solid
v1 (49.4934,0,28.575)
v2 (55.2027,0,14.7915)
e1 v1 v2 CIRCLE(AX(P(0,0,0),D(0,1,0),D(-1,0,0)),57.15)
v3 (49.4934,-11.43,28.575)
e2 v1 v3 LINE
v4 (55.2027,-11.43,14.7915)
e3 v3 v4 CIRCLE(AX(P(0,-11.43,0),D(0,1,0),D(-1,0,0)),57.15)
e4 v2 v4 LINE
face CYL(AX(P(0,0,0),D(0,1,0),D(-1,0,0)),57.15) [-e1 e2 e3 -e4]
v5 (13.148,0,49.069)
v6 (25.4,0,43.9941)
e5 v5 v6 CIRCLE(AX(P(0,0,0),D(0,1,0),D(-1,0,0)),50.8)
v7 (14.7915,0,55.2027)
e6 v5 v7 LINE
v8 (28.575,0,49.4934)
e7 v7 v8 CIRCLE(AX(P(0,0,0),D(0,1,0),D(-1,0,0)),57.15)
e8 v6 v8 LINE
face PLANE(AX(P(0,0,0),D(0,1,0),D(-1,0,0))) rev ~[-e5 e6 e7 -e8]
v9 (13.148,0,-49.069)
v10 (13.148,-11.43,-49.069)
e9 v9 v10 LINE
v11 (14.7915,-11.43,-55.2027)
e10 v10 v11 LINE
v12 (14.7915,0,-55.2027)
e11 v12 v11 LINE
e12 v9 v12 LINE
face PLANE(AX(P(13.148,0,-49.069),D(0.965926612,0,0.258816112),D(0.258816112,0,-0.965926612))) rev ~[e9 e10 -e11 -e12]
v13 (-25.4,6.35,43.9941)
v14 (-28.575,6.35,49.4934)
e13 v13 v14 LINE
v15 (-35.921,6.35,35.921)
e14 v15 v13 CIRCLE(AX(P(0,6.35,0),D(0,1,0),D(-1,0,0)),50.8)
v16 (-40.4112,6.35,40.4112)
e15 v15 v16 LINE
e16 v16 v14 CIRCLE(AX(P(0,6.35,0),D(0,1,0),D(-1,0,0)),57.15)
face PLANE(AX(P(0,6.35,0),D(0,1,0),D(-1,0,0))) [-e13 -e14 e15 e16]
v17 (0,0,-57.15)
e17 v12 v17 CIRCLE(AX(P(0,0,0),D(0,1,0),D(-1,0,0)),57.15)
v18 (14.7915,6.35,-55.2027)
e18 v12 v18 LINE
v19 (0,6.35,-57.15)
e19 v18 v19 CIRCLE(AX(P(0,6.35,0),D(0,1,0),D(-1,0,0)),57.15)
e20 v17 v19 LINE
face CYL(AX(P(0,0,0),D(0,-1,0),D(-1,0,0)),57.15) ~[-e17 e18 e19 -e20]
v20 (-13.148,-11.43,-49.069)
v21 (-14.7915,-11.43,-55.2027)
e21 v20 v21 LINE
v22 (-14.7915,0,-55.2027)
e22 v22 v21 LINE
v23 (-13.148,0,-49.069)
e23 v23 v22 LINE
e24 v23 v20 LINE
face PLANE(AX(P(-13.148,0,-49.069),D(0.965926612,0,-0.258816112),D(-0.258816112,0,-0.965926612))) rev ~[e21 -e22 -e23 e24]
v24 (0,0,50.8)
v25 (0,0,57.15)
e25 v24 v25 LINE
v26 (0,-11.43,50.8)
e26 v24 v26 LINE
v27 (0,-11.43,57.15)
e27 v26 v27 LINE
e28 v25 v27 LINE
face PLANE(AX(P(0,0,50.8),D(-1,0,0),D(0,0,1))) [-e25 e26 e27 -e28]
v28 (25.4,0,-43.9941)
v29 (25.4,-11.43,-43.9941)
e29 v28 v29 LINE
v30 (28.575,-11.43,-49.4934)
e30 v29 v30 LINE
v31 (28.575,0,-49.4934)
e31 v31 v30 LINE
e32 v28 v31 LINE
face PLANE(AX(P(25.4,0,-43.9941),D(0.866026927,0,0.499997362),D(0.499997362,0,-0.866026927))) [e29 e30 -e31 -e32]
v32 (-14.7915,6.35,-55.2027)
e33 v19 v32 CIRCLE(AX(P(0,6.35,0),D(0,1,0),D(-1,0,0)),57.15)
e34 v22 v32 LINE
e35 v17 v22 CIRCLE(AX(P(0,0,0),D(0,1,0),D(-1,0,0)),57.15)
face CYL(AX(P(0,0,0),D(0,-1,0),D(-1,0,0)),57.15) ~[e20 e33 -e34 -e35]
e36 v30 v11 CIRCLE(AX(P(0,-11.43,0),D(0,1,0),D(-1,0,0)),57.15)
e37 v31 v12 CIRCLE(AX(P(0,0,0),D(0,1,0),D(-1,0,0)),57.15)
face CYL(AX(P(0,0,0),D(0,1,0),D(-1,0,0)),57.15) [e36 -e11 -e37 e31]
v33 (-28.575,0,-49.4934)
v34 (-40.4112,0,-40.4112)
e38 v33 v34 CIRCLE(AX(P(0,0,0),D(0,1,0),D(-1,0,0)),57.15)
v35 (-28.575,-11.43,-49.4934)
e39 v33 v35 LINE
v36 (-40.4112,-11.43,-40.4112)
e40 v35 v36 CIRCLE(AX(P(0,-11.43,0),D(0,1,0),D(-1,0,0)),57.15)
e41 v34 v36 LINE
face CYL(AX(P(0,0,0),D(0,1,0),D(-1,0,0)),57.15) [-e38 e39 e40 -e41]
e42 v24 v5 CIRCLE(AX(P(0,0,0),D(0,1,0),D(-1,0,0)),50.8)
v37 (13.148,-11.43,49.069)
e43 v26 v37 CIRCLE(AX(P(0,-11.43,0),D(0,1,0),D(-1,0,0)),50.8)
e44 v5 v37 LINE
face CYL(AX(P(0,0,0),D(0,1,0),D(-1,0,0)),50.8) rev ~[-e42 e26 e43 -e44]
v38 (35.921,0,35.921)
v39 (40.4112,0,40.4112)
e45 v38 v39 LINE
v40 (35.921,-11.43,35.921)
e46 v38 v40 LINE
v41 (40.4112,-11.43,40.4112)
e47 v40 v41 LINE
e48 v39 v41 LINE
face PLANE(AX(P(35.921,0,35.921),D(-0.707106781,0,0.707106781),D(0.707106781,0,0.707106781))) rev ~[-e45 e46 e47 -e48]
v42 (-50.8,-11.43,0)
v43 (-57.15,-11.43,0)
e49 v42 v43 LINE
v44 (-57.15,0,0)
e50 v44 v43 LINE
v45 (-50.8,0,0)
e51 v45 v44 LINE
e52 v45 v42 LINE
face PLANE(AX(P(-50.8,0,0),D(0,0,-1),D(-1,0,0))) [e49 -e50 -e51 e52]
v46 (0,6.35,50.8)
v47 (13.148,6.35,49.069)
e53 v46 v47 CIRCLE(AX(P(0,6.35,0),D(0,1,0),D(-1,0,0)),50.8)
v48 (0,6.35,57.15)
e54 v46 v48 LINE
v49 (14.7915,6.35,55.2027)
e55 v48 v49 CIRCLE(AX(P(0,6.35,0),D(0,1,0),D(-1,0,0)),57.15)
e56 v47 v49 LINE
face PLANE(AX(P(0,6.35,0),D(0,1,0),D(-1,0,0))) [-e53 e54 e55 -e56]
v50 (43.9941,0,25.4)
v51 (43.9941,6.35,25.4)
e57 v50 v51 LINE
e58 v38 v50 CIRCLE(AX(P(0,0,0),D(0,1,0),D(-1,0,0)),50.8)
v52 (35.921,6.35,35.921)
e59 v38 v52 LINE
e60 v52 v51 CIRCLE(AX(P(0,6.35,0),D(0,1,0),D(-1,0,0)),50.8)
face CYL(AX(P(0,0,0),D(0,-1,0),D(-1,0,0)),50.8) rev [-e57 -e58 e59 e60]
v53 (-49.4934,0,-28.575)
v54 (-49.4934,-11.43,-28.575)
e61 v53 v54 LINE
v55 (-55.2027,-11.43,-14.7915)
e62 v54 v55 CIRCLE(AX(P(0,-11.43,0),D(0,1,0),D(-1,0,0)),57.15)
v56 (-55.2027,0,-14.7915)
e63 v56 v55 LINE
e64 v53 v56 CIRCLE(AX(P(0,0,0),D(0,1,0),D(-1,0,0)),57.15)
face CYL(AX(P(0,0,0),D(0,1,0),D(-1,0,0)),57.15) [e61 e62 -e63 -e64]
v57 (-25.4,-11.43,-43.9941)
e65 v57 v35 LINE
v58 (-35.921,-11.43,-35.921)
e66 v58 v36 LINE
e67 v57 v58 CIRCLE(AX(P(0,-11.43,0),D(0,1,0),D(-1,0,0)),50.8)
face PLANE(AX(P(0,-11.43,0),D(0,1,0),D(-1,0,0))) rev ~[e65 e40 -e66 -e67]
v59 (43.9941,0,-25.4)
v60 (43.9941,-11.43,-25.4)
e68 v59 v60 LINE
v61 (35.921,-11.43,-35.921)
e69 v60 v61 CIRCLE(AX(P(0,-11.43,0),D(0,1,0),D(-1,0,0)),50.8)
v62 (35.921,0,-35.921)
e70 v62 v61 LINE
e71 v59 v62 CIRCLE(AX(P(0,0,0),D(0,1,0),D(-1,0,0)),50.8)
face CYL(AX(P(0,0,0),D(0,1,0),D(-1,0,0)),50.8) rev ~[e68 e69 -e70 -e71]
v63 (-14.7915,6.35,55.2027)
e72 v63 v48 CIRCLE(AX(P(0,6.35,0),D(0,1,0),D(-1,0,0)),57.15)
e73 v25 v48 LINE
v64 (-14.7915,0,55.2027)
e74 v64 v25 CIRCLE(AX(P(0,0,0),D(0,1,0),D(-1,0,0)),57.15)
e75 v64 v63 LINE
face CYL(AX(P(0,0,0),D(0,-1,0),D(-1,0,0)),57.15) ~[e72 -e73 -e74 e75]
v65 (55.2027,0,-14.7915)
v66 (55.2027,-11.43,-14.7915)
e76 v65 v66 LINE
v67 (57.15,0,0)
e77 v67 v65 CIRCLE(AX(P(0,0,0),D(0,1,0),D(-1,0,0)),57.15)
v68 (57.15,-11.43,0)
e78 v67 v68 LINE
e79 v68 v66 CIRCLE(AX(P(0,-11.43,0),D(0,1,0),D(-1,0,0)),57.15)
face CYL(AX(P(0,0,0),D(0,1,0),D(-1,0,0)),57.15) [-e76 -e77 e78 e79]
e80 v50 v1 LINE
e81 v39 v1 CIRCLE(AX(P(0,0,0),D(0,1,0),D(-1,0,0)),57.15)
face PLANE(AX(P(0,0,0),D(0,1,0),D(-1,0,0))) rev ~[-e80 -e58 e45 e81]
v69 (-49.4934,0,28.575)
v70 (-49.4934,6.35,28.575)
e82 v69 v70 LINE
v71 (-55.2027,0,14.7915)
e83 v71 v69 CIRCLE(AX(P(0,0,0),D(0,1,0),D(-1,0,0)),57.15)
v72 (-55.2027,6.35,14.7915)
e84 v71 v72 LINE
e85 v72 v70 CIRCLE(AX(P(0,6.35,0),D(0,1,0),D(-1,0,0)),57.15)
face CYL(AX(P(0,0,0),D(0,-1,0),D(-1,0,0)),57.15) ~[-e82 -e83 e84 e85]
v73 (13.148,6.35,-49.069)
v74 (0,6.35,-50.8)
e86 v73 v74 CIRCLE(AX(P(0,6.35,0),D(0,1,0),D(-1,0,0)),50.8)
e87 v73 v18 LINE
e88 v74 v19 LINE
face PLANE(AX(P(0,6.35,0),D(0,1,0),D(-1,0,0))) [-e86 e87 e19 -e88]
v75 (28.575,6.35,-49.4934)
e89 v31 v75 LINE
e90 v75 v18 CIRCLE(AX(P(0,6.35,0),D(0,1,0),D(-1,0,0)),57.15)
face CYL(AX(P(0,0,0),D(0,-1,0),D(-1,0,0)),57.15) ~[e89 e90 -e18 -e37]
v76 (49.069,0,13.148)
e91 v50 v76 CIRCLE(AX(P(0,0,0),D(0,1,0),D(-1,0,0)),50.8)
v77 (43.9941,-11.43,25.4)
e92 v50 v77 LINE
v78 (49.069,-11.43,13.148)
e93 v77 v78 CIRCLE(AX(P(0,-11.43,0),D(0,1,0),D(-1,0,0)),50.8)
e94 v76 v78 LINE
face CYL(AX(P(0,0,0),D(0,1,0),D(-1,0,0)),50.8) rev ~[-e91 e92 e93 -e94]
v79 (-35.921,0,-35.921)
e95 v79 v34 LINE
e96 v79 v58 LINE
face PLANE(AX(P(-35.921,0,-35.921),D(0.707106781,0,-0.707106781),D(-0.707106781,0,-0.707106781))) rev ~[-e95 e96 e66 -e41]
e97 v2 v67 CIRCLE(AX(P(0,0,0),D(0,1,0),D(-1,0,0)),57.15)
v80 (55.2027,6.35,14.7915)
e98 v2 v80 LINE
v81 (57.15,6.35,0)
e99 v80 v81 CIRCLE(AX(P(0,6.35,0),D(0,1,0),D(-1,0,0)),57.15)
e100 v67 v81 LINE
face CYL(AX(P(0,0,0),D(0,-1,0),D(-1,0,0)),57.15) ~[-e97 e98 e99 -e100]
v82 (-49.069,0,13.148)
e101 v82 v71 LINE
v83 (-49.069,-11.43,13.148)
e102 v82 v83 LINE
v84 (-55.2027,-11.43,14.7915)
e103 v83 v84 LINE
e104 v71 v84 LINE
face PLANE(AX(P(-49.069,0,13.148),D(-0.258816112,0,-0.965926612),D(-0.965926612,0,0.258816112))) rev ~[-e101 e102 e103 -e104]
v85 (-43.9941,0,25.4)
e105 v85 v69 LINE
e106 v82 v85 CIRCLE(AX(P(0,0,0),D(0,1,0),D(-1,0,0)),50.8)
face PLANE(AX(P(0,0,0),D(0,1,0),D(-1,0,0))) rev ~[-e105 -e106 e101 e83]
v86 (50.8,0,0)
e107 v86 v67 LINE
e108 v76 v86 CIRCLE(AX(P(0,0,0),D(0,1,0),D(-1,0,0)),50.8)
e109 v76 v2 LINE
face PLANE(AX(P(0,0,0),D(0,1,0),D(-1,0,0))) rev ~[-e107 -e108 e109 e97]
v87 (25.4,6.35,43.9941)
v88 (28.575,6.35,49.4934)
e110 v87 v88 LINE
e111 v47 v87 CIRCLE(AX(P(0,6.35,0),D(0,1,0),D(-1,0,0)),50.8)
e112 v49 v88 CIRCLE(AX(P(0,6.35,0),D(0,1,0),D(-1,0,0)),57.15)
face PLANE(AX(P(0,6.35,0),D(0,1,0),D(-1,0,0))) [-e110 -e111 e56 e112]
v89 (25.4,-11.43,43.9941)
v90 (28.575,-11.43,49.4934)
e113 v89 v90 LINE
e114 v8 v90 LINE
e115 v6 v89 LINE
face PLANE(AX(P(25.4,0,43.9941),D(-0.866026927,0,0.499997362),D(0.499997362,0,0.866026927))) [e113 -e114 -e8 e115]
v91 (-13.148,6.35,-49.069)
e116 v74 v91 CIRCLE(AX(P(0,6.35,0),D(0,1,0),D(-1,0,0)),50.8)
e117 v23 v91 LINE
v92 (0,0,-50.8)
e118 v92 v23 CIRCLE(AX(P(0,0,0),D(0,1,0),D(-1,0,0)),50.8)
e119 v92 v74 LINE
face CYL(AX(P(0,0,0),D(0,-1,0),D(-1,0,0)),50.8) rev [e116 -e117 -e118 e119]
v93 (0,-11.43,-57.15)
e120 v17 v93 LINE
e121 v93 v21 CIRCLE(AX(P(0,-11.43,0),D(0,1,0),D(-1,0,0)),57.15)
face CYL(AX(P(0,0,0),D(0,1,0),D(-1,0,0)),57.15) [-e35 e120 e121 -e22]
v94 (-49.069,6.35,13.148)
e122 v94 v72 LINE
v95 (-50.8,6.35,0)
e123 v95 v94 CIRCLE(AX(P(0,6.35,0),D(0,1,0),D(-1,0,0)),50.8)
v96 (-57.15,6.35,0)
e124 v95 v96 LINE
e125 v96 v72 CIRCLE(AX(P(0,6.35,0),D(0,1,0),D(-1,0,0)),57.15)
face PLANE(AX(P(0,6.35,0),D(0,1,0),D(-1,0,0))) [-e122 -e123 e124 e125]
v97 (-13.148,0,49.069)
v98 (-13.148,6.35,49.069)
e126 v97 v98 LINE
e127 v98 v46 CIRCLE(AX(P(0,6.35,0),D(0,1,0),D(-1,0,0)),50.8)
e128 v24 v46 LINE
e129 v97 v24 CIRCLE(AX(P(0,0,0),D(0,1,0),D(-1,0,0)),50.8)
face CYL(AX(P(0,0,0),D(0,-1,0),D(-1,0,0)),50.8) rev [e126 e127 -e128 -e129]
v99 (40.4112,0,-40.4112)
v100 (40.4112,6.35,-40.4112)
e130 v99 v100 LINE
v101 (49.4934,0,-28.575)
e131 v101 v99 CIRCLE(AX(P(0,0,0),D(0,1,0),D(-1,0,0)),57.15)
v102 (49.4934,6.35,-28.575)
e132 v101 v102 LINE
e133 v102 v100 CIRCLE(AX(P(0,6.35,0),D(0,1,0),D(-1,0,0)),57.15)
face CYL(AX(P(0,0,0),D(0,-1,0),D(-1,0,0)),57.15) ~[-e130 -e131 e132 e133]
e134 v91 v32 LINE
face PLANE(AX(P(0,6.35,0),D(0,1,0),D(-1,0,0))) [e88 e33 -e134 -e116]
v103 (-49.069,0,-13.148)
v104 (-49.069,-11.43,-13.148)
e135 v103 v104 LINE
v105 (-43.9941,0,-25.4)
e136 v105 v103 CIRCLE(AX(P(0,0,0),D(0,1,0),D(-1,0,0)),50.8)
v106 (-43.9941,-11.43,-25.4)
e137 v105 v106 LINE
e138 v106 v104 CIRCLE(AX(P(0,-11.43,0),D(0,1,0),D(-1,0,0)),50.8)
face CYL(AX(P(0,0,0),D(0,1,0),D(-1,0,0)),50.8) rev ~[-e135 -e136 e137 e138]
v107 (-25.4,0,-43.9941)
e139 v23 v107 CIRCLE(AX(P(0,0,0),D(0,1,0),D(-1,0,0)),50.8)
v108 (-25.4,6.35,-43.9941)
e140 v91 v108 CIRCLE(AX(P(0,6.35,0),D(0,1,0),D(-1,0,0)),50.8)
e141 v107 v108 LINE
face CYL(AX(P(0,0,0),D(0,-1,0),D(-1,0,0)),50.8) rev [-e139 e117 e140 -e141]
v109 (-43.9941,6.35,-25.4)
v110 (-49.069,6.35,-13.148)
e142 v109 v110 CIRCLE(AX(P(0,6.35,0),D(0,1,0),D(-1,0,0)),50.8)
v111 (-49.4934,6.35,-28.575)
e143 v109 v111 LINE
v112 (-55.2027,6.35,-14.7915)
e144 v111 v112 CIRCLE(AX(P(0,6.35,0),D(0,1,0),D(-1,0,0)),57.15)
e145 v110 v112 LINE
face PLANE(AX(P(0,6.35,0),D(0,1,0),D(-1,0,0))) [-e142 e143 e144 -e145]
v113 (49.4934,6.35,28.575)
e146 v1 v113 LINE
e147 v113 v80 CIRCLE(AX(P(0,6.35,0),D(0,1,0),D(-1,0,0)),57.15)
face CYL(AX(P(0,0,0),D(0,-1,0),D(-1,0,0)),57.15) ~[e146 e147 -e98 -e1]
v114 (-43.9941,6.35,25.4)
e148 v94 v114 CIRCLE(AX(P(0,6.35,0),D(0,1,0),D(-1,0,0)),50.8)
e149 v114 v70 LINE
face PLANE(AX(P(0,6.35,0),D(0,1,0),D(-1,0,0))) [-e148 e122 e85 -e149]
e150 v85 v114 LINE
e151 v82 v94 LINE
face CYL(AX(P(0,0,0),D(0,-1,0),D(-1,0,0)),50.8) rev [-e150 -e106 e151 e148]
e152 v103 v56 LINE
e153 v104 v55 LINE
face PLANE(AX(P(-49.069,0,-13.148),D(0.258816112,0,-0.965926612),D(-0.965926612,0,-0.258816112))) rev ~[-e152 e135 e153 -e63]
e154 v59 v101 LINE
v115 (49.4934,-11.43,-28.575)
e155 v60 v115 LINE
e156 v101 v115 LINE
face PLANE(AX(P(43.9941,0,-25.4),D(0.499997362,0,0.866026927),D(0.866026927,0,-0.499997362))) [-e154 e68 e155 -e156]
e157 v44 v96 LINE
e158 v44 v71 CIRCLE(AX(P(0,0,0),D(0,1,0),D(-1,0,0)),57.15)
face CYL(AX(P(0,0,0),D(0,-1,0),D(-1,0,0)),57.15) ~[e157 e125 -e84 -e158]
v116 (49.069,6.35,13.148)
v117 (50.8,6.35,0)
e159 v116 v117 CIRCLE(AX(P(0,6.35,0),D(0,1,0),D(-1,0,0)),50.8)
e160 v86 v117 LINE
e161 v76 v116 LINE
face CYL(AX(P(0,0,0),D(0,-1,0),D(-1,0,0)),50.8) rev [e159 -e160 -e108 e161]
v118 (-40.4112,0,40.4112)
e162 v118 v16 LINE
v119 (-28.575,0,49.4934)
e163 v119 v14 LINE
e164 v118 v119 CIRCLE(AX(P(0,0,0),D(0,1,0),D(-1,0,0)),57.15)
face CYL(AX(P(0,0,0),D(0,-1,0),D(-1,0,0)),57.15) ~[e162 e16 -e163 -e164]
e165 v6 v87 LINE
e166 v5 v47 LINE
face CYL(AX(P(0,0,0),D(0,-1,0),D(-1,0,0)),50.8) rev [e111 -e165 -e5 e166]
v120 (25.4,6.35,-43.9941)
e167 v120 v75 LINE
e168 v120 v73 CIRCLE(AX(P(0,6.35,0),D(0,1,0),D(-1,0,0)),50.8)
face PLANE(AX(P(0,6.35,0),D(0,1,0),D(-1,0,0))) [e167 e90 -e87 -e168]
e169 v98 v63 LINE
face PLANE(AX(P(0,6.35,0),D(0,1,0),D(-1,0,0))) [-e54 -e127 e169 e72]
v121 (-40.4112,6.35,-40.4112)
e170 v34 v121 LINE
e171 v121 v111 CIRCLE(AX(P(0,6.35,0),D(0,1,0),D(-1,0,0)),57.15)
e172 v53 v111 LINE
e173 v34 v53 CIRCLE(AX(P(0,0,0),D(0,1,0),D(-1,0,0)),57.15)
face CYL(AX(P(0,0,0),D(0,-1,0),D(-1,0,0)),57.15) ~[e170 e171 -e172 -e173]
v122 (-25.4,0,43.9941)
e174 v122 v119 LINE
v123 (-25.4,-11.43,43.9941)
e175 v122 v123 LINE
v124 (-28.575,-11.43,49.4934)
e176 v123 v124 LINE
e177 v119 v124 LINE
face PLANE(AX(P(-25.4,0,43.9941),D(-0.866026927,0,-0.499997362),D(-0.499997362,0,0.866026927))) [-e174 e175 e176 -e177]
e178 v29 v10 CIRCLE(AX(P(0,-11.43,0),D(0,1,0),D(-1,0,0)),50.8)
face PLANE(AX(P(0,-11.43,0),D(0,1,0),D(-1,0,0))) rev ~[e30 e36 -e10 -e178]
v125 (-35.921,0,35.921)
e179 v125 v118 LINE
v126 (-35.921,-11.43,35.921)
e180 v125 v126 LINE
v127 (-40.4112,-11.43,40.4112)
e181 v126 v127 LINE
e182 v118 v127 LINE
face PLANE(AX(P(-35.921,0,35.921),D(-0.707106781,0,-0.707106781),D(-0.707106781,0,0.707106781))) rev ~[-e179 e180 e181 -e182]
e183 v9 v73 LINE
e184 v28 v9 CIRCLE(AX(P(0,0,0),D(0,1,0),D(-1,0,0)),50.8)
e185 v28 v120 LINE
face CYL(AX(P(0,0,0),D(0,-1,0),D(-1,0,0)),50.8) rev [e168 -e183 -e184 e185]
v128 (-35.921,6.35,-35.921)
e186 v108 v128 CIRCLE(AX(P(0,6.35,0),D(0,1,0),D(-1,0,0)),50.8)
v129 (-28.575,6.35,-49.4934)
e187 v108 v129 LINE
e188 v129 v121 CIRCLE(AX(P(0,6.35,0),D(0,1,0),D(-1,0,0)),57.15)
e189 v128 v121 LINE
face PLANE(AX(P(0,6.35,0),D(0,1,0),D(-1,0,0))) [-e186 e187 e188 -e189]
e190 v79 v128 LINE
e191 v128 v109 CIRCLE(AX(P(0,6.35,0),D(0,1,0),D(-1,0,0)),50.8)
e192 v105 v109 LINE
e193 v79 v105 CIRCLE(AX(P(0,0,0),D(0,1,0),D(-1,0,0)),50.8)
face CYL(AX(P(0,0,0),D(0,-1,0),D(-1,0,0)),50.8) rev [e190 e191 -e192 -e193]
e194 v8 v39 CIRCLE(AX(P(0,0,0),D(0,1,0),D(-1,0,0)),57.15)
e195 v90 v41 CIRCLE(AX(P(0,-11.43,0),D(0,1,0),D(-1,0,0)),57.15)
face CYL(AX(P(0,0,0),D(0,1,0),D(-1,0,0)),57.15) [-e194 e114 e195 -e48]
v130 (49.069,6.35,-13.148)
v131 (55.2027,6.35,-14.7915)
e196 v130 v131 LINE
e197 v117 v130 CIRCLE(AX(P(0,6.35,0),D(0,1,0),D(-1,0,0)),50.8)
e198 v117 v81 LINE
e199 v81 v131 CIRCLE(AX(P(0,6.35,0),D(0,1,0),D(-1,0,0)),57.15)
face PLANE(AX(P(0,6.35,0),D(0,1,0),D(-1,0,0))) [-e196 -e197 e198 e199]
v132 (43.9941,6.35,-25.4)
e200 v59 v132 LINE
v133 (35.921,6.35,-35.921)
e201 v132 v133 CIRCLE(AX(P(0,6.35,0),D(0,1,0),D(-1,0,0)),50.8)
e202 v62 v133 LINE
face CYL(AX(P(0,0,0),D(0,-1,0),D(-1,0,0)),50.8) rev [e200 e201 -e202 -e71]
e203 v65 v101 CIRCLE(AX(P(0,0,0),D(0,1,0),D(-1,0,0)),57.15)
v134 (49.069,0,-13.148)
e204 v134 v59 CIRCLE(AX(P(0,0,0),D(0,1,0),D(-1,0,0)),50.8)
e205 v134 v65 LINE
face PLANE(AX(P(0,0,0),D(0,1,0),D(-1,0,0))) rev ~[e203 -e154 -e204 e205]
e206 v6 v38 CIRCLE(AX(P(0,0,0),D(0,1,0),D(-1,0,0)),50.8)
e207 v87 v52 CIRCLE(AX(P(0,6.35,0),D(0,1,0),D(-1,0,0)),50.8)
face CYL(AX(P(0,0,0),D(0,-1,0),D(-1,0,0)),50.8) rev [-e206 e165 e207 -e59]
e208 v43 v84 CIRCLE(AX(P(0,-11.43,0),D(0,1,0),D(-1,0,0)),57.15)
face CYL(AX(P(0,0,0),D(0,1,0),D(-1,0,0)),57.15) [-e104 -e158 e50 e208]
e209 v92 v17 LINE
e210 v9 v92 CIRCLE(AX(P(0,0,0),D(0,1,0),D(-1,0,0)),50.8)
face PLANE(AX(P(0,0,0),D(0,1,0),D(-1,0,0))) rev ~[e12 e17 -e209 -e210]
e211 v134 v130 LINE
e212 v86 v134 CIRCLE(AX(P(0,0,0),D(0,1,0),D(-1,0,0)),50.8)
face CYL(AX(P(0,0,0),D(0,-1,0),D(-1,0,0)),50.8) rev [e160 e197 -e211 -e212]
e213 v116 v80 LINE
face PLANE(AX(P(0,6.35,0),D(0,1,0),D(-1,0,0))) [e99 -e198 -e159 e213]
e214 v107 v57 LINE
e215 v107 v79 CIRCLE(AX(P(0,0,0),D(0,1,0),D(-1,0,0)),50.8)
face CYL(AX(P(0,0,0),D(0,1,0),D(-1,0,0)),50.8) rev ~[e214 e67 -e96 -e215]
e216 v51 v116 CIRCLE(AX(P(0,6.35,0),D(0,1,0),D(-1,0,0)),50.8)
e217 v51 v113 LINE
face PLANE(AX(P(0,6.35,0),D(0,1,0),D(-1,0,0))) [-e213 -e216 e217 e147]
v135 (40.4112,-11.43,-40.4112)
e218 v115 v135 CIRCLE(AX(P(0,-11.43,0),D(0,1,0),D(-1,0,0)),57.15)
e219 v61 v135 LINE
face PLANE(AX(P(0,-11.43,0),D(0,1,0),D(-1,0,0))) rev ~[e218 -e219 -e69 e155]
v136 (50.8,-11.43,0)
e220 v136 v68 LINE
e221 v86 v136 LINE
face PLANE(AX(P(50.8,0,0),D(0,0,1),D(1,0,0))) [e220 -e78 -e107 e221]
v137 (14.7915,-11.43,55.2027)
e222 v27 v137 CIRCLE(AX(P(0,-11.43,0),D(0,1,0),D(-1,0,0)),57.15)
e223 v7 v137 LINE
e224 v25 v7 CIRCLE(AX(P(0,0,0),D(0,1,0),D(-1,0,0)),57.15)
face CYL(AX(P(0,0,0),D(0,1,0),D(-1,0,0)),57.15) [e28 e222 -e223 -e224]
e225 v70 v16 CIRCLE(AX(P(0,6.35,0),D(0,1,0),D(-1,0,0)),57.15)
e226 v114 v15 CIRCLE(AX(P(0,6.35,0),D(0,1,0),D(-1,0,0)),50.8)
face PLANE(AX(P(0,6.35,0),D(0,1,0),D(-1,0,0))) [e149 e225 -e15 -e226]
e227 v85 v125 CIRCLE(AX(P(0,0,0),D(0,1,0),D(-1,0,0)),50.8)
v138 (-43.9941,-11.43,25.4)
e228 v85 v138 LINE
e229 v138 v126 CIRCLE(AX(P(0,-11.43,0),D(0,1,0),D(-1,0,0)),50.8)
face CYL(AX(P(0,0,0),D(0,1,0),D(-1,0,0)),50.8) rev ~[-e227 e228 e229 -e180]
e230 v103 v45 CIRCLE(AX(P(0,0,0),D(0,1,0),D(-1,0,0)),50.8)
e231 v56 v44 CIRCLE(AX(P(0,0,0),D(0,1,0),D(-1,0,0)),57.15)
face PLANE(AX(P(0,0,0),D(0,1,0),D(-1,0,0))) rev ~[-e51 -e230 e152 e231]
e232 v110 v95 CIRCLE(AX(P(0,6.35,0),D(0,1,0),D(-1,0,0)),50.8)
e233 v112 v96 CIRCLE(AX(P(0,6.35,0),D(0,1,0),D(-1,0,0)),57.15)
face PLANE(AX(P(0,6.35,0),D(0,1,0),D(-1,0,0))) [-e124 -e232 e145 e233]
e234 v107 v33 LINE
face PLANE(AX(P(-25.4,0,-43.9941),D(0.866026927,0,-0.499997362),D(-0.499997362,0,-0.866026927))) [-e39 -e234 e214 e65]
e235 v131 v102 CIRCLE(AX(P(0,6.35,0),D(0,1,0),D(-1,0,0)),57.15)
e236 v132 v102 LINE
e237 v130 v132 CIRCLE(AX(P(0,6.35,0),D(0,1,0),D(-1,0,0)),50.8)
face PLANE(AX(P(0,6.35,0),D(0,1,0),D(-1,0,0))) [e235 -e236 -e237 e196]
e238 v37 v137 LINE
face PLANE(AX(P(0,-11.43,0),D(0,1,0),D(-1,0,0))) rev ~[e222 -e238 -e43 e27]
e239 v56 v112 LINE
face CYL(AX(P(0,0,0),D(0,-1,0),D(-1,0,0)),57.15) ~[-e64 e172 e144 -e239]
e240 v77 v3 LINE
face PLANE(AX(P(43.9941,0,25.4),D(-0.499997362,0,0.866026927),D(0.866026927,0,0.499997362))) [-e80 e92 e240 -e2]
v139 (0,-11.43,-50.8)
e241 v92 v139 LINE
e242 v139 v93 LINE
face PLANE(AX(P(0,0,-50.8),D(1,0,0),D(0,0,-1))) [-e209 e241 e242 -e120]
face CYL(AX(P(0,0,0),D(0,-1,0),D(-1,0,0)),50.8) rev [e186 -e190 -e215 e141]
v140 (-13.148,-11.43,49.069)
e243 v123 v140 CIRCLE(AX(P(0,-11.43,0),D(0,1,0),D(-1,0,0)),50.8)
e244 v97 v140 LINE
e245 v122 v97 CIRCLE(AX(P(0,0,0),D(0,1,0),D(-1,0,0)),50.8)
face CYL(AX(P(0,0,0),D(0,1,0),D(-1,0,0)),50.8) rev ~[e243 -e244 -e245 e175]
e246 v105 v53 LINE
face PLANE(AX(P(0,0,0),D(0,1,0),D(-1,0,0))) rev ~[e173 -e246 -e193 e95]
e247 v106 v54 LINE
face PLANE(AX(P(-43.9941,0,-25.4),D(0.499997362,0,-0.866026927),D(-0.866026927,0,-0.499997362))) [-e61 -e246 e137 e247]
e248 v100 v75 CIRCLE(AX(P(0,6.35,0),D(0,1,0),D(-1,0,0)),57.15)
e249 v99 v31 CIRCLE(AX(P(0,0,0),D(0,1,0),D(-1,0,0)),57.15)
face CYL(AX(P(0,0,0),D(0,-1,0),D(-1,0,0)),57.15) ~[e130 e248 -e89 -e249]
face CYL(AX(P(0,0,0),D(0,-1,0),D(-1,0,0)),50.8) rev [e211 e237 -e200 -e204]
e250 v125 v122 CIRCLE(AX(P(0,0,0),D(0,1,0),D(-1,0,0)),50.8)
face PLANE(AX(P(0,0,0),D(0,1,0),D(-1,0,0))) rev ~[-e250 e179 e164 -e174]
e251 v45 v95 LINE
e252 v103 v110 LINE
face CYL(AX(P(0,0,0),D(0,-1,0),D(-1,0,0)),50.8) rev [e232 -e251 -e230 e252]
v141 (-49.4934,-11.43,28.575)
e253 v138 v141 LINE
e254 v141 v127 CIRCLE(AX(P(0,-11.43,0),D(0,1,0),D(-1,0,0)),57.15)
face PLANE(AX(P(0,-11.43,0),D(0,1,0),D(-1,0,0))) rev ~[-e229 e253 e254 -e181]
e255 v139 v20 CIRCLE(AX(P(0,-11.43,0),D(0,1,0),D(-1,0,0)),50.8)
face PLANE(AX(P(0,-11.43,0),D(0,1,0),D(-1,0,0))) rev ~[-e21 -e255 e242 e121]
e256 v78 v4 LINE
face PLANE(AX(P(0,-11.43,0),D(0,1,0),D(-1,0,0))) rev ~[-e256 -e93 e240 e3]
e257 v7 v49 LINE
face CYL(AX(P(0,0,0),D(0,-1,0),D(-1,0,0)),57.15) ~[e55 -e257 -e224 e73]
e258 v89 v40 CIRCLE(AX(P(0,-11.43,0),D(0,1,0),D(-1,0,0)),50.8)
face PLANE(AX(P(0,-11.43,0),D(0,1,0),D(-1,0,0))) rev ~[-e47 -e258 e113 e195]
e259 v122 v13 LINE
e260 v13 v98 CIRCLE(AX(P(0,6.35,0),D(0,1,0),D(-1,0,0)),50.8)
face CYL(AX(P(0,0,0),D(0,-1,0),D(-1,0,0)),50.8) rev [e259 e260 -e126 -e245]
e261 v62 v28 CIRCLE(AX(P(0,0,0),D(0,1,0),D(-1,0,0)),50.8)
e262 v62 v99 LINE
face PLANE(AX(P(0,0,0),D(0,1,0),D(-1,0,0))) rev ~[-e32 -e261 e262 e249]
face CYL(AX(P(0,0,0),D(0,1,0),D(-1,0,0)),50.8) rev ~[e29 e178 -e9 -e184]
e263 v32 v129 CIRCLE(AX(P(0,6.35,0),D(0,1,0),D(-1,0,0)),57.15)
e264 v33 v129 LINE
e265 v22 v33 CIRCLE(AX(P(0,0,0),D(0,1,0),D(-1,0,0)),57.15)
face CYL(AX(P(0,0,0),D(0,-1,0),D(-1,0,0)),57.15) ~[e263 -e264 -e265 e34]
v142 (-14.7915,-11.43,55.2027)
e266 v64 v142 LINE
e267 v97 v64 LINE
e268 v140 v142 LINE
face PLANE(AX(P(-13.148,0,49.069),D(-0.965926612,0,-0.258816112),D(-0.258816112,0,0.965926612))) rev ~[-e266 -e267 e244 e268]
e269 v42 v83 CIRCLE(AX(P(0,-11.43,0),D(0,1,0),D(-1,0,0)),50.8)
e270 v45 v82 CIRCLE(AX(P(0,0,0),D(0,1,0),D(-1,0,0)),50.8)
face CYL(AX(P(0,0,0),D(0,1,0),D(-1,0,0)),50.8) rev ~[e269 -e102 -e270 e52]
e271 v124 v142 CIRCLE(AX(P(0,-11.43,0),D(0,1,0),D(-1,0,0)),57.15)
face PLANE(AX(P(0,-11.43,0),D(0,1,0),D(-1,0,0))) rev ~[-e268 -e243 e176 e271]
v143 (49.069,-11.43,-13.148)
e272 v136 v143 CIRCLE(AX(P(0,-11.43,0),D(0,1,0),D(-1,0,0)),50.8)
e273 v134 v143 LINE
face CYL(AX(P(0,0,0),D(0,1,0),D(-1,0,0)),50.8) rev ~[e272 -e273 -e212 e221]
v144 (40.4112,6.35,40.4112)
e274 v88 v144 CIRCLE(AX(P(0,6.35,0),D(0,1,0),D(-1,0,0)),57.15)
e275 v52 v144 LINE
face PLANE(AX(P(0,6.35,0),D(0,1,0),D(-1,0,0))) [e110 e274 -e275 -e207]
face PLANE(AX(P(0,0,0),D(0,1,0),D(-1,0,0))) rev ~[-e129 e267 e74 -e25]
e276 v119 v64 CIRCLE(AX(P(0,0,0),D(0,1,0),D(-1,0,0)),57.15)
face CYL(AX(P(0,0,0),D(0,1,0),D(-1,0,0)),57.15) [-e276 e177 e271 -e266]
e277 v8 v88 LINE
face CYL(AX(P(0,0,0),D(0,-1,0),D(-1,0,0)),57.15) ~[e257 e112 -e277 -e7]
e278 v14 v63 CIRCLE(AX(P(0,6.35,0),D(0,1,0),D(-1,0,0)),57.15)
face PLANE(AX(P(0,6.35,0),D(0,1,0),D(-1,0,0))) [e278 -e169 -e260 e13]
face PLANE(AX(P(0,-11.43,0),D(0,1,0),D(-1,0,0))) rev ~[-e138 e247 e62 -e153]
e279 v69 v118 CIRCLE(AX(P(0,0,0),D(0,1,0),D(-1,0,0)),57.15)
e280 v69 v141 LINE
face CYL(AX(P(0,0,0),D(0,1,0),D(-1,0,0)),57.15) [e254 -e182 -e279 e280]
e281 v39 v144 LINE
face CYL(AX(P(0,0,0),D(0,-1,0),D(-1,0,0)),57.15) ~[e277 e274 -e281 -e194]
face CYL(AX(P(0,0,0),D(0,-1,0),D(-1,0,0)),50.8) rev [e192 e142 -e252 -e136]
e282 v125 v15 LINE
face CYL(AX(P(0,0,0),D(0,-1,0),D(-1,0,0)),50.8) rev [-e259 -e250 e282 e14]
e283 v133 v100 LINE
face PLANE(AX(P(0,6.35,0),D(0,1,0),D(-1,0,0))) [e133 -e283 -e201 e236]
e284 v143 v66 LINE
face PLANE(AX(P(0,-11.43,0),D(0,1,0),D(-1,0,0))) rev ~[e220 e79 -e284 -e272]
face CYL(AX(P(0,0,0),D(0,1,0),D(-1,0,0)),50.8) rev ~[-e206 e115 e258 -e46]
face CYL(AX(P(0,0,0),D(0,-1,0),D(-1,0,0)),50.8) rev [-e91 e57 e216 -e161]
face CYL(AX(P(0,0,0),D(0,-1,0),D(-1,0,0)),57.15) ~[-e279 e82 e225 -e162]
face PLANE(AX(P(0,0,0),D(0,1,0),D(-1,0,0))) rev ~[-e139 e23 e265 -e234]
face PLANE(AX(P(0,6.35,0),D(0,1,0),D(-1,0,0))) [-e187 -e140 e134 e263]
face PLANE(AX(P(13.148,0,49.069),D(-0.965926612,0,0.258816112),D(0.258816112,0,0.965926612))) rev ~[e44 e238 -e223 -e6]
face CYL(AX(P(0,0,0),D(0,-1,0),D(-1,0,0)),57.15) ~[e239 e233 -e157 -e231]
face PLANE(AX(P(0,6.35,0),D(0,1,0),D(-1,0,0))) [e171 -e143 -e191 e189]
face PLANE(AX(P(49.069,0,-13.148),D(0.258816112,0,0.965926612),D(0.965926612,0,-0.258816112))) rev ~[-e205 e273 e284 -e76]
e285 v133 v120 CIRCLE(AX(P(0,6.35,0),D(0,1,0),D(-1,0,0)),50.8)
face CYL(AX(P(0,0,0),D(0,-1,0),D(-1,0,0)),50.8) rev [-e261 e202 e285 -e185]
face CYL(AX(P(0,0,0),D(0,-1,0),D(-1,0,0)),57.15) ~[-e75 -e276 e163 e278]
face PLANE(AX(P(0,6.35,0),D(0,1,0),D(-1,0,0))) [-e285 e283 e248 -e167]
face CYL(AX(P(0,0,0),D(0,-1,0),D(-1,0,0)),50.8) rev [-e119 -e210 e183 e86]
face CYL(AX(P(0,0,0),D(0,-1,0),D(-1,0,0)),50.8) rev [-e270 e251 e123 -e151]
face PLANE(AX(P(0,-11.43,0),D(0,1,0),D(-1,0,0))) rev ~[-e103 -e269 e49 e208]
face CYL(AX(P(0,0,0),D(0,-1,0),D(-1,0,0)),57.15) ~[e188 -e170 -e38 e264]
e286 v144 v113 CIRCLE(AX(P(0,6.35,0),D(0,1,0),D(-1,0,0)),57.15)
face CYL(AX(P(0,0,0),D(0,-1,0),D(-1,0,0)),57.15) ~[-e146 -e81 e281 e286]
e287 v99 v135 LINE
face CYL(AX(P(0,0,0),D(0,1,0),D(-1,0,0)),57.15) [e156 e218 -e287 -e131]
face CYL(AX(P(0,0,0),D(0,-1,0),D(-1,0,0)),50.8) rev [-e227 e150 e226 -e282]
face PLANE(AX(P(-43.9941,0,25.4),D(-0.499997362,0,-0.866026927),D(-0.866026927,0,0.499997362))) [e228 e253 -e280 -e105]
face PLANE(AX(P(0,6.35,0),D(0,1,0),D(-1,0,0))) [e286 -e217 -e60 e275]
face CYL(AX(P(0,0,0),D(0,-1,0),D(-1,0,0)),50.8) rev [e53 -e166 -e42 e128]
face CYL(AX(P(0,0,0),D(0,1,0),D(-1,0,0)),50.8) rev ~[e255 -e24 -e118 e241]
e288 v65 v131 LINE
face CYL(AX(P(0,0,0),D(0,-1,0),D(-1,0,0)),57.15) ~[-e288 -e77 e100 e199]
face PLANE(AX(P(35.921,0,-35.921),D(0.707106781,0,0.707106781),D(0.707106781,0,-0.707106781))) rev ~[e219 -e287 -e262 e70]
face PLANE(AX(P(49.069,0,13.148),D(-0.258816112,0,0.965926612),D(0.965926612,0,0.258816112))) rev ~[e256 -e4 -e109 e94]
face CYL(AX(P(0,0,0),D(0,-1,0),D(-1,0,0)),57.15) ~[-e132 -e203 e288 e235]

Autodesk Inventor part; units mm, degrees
ref_plane "YZ Plane" through (0, 0, 0) normal (1, 0, 0) x (0, 1, 0)
ref_plane "XZ Plane" through (0, 0, 0) normal (0, 1, 0) x (-1, 0, 0)
ref_plane "XY Plane" through (0, 0, 0) normal (0, 0, 1) x (1, 0, 0)
sketch "Sketch1" plane through (0, 0, 0) normal (0, 1, 0) x (-1, 0, 0)
  circle A0 centre (0, 0) radius 57.15
  circle A1 centre (0, 0) radius 50.8
  line L0 (0, 0) -> (0, -57.15)
  line L1 (0, 0) -> (57.15, 0) construction
  line L2 (49.069, -13.148) -> (55.2027, -14.7915)
  line L3 (0, 0) -> (57.15, 0) construction
  line L4 (0, 0) -> (57.15, 0)
  line L5 (43.9941, -25.4) -> (49.4934, -28.575)
  line L6 (0, 0) -> (57.15, 0) construction
  line L7 (50.8, 0) -> (57.15, 0)
  line L8 (49.069, 13.148) -> (55.2027, 14.7915)
  line L9 (43.9941, 25.4) -> (49.4934, 28.575)
  line L10 (35.921, 35.921) -> (40.4112, 40.4112)
  line L11 (25.4, 43.9941) -> (28.575, 49.4934)
  line L12 (13.148, 49.069) -> (14.7915, 55.2027)
  line L13 (0, 50.8) -> (0, 57.15)
  line L14 (-13.148, 49.069) -> (-14.7915, 55.2027)
  line L15 (-25.4, 43.9941) -> (-28.575, 49.4934)
  line L16 (-35.921, 35.921) -> (-40.4112, 40.4112)
  line L17 (-43.9941, 25.4) -> (-49.4934, 28.575)
  line L18 (-49.069, 13.148) -> (-55.2027, 14.7915)
  line L19 (-50.8, 0) -> (-57.15, 0)
  line L20 (-49.069, -13.148) -> (-55.2027, -14.7915)
  line L21 (-43.9941, -25.4) -> (-49.4934, -28.575)
  line L22 (-35.921, -35.921) -> (-40.4112, -40.4112)
  line L23 (-25.4, -43.9941) -> (-28.575, -49.4934)
  line L24 (-13.148, -49.069) -> (-14.7915, -55.2027)
  line L25 (0, -50.8) -> (0, -57.15)
  line L26 (13.148, -49.069) -> (14.7915, -55.2027)
  line L27 (25.4, -43.9941) -> (28.575, -49.4934)
  line L28 (35.921, -35.921) -> (40.4112, -40.4112)
  point P0 (50.8, 0)
  point P1 (0, -50.8)
  dimension "d0" = 114.3
  dimension "d1" = 101.6
  dimension "d3" = 15
  dimension "d4" = 30
  dimension "d7" = 360
extrude "Extrusion1" add sketch "Sketch1" along normal blind 6.35 contours L4 A1 L8 A0 | A0 L2 A1 L4 | L8 A1 L9 A0 | A0 L5 A1 L2 | L9 A1 L10 A0 | A0 L28 A1 L5 | L10 A1 L11 A0 | A0 L27 A1 L28 | L0 A0 L24 A1 | A1 L26 A0 L0 | L11 A1 L12 A0 | A0 L26 A1 L27 | L24 A0 L23 A1 | L12 A1 L13 A0 | L23 A0 L22 A1 | L13 A1 L14 A0 | L22 A0 L21 A1 | L14 A1 L15 A0 | L21 A0 L20 A1 | L15 A1 L16 A0 | L20 A0 L19 A1 | L16 A1 L17 A0 | L19 A0 L18 A1 | L17 A1 L18 A0
extrude "Extrusion2" add sketch "Sketch1" against normal blind 11.43 contours L4 A1 L8 A0 | A0 L5 A1 L2 | L9 A1 L10 A0 | A0 L27 A1 L28 | A1 L26 A0 L0 | L11 A1 L12 A0 | L24 A0 L23 A1 | L13 A1 L14 A0 | L22 A0 L21 A1 | L15 A1 L16 A0 | L20 A0 L19 A1 | L17 A1 L18 A0
properties part number "4 Castle Spacer"
